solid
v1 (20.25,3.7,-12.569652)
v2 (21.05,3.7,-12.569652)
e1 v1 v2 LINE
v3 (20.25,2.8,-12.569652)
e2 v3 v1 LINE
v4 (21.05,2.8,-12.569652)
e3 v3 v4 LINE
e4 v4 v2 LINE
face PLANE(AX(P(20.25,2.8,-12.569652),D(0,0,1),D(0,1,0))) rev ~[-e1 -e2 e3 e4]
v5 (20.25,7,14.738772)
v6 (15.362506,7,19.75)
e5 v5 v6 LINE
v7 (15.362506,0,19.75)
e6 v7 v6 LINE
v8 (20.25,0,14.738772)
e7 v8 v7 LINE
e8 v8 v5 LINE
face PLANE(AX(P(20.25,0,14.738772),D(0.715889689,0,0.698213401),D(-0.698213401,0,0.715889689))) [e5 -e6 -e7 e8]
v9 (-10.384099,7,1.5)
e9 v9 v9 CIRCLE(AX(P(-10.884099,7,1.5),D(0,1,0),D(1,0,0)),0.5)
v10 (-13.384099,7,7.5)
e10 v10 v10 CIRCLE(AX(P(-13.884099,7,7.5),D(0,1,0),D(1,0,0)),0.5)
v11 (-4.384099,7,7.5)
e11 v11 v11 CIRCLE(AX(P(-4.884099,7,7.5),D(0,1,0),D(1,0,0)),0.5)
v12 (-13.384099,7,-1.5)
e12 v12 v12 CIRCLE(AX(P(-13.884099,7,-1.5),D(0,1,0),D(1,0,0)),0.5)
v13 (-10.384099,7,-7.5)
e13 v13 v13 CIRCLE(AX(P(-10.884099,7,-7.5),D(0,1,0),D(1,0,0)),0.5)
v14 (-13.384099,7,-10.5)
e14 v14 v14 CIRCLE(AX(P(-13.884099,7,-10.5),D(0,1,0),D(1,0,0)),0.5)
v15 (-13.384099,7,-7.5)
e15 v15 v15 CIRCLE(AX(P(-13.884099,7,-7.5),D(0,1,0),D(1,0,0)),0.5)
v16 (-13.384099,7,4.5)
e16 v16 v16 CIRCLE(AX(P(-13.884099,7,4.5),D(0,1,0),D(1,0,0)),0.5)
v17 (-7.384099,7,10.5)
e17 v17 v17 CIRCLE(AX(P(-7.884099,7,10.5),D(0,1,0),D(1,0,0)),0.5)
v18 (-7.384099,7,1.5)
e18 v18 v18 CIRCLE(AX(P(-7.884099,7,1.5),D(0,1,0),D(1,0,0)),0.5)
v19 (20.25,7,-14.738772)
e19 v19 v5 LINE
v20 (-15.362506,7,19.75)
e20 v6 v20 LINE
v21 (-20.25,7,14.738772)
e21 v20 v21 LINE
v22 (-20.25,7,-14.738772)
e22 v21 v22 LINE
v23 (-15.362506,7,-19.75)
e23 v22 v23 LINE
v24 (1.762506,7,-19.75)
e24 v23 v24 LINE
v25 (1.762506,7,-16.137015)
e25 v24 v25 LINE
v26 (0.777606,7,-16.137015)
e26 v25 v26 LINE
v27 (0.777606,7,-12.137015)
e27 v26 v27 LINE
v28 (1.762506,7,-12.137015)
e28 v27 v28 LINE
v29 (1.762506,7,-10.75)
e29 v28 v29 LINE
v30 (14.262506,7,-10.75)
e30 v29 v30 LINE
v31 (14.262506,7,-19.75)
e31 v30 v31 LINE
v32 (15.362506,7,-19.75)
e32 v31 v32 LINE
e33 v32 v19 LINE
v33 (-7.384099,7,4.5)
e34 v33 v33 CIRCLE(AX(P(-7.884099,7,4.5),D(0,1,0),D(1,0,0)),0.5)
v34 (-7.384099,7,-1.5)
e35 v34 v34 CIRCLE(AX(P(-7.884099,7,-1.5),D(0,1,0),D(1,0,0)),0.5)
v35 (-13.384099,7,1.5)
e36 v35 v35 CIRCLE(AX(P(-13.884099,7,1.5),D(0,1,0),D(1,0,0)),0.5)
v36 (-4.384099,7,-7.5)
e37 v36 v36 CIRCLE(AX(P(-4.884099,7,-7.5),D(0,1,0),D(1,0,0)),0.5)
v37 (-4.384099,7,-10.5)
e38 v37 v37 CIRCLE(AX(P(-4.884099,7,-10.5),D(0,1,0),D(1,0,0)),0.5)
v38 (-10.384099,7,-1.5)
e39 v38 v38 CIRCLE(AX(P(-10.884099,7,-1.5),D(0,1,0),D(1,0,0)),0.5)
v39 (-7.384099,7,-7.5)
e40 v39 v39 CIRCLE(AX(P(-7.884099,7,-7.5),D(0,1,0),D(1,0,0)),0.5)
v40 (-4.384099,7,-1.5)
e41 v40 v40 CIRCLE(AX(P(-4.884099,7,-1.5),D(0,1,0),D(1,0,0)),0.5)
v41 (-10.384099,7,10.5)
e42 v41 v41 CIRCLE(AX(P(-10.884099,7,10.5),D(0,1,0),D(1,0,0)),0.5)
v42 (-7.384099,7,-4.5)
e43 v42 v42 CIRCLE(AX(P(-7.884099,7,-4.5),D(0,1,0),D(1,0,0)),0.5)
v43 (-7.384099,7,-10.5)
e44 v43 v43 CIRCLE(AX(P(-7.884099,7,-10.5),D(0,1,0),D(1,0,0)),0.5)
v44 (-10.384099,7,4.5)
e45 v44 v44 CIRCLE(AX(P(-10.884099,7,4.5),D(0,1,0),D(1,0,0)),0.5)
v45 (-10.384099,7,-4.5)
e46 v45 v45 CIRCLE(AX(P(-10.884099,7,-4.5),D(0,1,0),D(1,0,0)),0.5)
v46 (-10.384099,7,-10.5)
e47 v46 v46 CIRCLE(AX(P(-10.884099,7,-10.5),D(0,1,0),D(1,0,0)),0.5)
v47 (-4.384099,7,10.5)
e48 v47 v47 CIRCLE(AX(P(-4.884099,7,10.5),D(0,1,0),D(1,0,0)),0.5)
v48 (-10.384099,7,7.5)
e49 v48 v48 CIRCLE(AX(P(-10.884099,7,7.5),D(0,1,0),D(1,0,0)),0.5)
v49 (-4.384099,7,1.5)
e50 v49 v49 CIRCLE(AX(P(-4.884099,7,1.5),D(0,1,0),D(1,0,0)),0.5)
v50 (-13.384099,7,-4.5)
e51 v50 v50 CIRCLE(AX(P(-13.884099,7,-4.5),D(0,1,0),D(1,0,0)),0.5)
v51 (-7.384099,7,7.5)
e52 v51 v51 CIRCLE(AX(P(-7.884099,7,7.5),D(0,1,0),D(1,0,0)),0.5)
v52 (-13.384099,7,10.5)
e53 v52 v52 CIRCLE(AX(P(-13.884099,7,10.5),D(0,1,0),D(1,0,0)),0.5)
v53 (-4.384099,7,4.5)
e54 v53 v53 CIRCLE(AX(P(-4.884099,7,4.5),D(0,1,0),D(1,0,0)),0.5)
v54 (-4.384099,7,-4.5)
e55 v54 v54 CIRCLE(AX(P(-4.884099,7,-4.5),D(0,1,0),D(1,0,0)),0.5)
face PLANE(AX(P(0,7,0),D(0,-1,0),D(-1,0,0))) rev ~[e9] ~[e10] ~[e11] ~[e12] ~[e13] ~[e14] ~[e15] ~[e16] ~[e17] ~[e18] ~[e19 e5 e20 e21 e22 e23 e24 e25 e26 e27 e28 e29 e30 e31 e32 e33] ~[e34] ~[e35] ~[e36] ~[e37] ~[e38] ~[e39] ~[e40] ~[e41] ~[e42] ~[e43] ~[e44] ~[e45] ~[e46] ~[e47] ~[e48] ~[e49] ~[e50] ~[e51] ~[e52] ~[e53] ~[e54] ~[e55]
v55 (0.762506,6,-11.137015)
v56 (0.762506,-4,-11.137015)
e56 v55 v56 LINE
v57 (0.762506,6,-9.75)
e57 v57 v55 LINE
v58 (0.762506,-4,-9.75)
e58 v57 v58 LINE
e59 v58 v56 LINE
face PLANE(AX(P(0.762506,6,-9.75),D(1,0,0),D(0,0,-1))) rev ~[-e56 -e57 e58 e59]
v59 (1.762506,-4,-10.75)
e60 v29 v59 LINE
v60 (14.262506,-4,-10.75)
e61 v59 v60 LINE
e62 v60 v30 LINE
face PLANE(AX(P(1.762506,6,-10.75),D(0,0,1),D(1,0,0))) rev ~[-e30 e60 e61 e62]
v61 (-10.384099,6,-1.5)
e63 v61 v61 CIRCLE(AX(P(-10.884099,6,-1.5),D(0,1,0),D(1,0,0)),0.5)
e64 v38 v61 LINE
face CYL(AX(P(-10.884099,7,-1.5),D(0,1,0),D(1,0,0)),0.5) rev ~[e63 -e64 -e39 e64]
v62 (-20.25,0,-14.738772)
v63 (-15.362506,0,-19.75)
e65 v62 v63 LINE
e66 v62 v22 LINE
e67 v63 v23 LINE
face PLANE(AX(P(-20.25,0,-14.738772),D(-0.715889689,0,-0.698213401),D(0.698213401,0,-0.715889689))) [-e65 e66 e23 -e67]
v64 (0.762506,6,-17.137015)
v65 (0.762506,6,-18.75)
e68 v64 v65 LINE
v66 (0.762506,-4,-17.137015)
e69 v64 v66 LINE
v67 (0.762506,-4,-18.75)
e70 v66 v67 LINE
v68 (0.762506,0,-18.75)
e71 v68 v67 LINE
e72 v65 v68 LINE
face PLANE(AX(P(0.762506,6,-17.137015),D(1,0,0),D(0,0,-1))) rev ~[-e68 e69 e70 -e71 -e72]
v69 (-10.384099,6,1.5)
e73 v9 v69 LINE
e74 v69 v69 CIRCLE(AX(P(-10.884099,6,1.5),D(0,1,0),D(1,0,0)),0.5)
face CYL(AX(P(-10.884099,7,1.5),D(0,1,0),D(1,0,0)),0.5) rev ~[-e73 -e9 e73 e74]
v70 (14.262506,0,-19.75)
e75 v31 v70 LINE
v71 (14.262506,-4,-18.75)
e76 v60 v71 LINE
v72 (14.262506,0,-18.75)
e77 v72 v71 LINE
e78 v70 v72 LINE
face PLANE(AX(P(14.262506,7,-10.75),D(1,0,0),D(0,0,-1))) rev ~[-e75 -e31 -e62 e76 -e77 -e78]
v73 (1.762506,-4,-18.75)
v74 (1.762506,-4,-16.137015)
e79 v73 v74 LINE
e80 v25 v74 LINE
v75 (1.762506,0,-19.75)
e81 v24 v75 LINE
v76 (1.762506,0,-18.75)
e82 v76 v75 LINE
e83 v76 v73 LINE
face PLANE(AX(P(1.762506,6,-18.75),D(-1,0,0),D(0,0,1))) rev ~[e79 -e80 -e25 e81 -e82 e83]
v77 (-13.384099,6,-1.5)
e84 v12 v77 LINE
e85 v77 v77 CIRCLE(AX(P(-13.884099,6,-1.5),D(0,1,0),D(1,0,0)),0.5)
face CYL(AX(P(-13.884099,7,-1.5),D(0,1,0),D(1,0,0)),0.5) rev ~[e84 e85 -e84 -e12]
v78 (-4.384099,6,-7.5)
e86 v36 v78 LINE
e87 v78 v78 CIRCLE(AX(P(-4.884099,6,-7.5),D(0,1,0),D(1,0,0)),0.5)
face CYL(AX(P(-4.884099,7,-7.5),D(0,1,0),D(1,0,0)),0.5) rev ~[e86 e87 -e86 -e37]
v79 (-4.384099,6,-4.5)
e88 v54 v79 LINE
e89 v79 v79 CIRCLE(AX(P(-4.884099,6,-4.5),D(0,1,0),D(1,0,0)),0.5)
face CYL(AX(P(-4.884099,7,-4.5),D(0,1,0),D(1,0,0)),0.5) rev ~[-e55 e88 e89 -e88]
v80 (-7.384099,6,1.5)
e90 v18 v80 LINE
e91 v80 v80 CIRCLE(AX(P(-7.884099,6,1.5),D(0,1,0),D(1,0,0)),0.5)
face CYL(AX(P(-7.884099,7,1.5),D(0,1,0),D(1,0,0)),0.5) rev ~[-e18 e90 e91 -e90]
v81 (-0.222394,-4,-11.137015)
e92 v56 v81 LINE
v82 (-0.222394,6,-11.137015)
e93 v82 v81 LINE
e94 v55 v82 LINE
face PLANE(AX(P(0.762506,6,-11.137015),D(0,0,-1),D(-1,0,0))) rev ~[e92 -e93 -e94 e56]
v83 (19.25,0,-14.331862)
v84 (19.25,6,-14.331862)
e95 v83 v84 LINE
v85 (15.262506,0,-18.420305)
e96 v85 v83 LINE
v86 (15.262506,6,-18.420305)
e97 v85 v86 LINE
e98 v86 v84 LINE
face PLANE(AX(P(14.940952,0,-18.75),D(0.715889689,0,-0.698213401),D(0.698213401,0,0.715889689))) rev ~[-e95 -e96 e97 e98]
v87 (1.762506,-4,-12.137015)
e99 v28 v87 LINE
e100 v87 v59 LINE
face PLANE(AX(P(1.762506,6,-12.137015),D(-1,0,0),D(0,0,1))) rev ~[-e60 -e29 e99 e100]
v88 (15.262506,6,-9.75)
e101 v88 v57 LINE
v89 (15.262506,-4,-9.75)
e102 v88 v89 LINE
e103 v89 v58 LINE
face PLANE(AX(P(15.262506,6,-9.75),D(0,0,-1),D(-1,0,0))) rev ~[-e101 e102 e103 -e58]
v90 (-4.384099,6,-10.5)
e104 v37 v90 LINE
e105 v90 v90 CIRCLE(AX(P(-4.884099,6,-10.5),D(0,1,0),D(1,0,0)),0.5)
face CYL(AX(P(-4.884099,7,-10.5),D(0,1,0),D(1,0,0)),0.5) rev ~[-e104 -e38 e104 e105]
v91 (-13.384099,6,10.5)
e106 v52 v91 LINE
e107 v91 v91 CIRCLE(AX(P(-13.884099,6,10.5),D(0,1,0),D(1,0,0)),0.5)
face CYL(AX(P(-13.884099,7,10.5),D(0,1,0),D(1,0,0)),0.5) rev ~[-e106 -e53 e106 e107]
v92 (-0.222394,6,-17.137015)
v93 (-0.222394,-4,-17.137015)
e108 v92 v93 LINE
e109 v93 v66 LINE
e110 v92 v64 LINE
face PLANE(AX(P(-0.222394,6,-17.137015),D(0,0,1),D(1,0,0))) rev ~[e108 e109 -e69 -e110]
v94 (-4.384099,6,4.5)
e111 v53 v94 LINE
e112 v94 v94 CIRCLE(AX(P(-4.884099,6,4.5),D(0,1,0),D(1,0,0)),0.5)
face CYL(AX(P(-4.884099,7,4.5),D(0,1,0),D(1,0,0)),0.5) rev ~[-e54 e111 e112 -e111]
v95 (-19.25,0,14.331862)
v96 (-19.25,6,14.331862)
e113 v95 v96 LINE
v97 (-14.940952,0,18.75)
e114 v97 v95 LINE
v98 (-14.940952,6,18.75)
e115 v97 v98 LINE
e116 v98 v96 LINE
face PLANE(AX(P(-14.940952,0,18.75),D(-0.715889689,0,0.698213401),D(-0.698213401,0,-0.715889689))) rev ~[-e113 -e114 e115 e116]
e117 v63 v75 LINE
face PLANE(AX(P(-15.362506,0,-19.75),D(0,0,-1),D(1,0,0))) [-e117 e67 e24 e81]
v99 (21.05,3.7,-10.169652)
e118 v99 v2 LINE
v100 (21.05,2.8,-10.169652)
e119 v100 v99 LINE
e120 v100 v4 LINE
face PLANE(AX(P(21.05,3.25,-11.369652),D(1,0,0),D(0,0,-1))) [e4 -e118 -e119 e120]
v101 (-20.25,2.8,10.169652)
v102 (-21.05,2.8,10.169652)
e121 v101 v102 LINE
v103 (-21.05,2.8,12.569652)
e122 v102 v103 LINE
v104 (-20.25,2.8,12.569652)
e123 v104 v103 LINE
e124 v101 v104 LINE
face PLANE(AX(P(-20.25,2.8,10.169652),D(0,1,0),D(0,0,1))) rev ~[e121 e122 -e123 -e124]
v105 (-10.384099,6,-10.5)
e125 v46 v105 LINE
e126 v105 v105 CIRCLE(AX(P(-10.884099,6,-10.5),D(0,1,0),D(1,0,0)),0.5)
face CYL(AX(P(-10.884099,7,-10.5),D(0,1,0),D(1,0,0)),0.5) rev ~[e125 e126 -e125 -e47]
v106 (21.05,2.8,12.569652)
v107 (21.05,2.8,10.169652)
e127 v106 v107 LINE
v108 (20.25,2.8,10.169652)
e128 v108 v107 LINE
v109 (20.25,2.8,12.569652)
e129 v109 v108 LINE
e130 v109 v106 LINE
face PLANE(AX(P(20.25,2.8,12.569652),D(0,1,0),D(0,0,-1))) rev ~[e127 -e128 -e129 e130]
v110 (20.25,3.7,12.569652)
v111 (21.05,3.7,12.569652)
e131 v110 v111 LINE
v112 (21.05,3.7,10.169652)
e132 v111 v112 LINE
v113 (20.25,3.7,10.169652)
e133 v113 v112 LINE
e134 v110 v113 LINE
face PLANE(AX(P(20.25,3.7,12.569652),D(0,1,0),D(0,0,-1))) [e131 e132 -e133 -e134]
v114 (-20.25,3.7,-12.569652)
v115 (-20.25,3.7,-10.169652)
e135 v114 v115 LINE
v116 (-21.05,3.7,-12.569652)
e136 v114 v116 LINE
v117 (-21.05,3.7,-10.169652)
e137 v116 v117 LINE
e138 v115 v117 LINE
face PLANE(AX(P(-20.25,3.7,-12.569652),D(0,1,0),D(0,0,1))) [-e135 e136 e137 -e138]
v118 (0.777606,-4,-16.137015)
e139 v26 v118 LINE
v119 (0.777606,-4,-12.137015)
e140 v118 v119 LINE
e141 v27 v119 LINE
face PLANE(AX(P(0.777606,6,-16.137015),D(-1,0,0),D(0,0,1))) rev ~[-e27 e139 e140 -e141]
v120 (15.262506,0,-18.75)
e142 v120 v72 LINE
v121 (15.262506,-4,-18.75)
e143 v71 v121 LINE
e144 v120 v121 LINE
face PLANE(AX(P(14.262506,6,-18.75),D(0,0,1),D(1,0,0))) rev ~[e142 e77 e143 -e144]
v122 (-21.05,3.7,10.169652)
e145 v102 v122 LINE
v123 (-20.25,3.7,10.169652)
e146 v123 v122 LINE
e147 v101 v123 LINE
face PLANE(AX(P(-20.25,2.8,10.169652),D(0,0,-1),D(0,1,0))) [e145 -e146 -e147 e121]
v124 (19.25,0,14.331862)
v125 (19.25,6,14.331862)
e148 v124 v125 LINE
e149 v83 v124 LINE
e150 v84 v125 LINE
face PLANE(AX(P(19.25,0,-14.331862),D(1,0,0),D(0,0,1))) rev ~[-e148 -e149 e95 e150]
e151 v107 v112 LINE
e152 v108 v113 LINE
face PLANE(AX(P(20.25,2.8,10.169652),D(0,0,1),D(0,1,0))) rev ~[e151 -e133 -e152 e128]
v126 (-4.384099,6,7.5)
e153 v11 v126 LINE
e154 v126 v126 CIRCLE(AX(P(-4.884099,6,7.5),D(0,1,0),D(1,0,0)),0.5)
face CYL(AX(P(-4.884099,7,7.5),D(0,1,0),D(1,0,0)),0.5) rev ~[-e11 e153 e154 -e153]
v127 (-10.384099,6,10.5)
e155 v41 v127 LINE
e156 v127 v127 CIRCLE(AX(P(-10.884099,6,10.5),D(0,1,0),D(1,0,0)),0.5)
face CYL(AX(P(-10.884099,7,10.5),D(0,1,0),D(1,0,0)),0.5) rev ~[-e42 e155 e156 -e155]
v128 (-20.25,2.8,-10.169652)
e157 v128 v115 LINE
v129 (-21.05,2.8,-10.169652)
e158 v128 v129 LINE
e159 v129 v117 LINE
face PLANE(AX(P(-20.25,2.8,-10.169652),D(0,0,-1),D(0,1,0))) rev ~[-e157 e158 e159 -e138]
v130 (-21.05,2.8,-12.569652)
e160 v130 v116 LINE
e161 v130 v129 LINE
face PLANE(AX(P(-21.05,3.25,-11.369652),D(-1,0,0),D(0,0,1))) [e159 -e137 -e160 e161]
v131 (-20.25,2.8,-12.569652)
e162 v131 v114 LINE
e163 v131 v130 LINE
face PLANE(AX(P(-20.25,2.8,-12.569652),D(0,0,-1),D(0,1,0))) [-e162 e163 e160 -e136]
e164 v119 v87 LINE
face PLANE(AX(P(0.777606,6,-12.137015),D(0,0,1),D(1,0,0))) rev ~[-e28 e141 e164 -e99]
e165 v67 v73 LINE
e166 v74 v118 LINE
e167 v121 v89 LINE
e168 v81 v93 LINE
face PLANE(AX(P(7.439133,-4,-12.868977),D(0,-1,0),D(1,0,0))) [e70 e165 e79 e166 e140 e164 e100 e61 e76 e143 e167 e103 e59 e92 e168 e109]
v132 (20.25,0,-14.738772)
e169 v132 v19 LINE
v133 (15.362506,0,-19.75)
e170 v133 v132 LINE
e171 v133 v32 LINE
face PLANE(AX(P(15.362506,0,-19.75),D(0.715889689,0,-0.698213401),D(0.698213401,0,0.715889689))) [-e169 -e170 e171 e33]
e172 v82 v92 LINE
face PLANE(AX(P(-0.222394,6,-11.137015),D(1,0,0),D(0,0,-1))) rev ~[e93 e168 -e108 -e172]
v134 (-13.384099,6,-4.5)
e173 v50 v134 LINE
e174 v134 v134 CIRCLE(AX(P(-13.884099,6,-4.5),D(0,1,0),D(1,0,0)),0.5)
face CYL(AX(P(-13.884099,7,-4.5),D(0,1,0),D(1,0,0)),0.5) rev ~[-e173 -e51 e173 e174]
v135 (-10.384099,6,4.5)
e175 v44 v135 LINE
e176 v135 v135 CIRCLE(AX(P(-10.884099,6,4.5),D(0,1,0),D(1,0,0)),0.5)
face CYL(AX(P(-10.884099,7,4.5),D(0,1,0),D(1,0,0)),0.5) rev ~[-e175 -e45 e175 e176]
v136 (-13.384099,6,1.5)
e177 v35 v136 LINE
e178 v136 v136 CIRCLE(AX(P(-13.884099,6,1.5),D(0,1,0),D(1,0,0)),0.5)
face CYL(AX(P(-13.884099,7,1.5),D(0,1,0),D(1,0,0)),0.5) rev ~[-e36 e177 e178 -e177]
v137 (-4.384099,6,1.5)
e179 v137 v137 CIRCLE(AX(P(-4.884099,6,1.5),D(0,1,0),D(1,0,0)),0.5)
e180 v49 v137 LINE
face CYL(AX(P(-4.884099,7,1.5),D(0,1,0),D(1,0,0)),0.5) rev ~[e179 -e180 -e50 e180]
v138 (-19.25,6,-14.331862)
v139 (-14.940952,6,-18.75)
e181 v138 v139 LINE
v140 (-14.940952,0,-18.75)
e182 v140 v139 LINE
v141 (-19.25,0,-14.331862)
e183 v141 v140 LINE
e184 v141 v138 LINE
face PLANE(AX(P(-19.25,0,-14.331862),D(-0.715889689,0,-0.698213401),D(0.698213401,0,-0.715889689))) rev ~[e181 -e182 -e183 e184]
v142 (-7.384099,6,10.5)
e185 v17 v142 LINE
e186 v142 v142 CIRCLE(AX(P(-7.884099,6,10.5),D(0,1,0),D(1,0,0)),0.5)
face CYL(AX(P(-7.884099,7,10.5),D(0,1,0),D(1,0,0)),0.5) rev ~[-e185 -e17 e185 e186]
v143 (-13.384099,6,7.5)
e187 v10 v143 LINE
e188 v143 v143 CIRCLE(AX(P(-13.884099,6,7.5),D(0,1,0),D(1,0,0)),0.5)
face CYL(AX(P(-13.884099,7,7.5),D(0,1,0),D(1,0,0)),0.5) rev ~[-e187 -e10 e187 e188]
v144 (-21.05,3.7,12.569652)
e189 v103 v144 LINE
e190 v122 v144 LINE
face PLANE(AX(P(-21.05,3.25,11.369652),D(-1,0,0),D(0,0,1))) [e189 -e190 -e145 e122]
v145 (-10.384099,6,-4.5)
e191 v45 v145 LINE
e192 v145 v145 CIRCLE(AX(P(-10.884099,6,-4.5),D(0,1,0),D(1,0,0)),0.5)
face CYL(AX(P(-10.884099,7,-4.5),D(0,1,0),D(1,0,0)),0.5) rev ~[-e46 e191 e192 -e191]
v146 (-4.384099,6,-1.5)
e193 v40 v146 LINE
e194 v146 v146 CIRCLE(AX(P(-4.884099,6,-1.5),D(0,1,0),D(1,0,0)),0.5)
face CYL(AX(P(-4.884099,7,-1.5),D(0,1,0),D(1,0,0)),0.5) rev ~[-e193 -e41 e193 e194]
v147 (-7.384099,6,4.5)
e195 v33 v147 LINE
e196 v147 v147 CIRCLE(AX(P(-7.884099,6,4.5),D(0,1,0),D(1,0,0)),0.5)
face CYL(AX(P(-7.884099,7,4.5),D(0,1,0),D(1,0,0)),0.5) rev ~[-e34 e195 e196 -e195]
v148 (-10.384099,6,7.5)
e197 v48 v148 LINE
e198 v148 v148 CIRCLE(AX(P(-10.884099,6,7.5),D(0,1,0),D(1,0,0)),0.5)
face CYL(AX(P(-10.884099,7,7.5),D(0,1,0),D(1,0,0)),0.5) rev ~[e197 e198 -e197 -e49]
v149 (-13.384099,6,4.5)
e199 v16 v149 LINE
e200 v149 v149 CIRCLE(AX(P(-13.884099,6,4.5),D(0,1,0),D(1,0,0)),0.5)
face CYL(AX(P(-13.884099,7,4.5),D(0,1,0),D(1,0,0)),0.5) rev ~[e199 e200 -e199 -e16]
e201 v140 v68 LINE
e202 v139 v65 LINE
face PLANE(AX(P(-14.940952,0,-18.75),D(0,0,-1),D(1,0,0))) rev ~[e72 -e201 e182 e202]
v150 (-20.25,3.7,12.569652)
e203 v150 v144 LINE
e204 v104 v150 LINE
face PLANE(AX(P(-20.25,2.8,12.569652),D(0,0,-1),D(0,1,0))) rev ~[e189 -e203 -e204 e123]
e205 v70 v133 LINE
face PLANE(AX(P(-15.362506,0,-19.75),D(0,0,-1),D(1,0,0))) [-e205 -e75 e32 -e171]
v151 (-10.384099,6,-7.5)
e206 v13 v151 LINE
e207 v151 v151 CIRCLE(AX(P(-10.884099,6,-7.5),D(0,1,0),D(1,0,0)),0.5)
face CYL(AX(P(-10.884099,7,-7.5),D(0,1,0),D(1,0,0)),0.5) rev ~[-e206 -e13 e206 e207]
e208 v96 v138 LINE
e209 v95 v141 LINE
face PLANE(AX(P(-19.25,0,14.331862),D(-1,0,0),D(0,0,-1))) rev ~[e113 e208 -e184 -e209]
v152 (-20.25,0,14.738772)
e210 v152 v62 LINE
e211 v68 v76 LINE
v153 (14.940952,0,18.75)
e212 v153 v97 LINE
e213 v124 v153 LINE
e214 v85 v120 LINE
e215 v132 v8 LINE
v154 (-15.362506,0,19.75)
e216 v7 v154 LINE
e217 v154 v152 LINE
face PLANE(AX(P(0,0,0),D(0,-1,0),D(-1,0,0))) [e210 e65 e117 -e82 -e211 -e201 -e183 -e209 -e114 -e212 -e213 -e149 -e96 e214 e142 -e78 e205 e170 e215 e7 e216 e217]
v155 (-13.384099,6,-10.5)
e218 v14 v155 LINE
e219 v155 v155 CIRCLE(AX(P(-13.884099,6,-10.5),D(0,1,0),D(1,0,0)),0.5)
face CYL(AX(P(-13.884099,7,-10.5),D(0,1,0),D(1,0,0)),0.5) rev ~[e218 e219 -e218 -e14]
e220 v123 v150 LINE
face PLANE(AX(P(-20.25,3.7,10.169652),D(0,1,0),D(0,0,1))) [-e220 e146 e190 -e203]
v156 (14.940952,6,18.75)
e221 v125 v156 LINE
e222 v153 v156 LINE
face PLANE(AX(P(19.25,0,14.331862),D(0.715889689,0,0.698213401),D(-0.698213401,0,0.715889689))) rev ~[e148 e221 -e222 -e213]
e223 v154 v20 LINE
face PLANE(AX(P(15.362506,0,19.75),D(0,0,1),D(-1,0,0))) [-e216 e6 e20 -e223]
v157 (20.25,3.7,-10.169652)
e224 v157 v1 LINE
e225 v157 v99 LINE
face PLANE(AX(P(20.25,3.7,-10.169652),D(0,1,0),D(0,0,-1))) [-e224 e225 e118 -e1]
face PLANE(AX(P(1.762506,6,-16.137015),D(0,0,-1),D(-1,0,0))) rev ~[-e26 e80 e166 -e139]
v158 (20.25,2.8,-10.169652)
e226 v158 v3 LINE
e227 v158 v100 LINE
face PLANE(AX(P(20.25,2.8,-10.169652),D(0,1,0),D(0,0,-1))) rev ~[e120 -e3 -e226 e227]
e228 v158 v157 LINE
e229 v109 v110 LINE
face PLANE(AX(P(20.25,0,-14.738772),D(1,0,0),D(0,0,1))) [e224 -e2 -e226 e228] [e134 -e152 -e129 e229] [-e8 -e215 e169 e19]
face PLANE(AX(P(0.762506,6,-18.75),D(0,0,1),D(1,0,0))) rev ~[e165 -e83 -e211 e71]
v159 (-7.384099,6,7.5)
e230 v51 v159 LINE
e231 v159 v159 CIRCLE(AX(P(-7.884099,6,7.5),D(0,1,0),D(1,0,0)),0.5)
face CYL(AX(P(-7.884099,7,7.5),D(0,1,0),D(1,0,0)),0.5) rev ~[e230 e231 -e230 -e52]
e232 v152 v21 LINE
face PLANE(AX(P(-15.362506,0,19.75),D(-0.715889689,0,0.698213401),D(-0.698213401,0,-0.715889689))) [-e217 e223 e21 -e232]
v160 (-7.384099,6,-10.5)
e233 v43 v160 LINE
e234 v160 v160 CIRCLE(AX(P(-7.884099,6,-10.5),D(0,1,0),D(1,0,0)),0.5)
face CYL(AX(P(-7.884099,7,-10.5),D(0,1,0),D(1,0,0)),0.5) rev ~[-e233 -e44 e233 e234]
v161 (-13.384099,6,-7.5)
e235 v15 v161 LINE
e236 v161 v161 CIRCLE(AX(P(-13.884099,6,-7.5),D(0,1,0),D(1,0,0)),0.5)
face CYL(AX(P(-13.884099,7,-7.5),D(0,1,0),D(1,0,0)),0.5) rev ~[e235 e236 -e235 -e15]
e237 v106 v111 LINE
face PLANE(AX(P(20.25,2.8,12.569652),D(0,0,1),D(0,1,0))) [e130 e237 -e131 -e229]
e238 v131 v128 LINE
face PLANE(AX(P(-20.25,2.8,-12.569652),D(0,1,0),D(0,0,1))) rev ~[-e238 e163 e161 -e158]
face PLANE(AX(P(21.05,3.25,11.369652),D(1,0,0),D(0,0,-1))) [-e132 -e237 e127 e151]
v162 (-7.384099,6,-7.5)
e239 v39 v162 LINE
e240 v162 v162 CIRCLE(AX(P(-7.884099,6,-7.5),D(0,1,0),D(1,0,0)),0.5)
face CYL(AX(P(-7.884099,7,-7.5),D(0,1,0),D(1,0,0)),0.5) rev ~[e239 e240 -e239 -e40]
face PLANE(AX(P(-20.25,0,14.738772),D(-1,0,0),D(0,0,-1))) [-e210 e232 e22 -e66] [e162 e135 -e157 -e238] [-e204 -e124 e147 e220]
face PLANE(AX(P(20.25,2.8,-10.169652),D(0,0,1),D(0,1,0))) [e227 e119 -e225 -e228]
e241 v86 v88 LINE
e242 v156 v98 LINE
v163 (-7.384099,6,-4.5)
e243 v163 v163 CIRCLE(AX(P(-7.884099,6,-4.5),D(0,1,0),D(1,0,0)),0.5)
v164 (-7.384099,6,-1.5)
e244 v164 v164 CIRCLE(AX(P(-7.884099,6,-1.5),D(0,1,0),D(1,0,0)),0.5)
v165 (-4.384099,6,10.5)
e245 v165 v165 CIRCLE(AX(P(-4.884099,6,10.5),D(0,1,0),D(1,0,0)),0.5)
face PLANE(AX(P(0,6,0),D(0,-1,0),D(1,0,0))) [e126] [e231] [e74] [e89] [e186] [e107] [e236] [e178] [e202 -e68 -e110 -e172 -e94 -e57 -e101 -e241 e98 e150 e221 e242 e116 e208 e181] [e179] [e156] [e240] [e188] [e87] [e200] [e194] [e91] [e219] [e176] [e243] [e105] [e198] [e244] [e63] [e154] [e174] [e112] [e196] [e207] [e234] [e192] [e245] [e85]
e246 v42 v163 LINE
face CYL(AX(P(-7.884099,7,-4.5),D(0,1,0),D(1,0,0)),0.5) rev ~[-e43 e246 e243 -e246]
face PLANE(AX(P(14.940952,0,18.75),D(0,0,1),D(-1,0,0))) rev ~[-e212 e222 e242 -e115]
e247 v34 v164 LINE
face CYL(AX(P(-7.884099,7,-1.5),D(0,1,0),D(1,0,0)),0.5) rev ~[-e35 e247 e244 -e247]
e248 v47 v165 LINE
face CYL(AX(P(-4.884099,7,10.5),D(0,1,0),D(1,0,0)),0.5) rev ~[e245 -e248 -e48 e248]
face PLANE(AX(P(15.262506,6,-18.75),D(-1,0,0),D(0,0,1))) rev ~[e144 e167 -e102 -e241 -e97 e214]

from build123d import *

# Parameters (mm, degrees)
BOSS_EXTRUDE1_DEPTH = 7
CUT_EXTRUDE1_DEPTH  = 6
CUT_EXTRUDE2_DEPTH  = 8
BOSS_EXTRUDE2_DEPTH = 10
SKETCH5_W           = 2.4
SKETCH5_H           = 0.9
BOSS_EXTRUDE3_DEPTH = 0.8
SKETCH6_W           = 2.4
SKETCH6_H           = 0.9
BOSS_EXTRUDE4_DEPTH = 0.8
SKETCH7_R           = 0.5
CUT_EXTRUDE3_DEPTH  = 1


with BuildPart() as part:
    # Sketch1 → Boss-Extrude1 (new body)
    with BuildSketch(Plane(origin=(0, 0, 0), x_dir=(1, 0, 0), z_dir=(0, 1, 0))):
        Polygon((-20.25, 14.738772175), (-15.362506196, 19.75), (15.362506196, 19.75), (20.25, 14.738772175), (20.25, -14.738772175), (15.362506196, -19.75), (-15.362506196, -19.75), (-20.25, -14.738772175), align=None)
    extrude(amount=BOSS_EXTRUDE1_DEPTH)

    # Sketch2 → Cut-Extrude1 (cut)
    with BuildSketch(Plane.XZ):
        Polygon((14.940951585, 18.75), (-14.940951585, 18.75), (-19.25, 14.331861751), (-19.25, -14.331861751), (-14.940951585, -18.75), (14.940951585, -18.75), (19.25, -14.331861751), (19.25, 14.331861751), align=None)
    extrude(amount=-CUT_EXTRUDE1_DEPTH, mode=Mode.SUBTRACT)

    # Sketch3 → Cut-Extrude2 (cut, through all)
    with BuildSketch(Plane(origin=(0, 7, 0), x_dir=(1, 0, 0), z_dir=(0, 1, 0))):
        Polygon((14.262506196, 19.75), (1.762506196, 19.75), (1.762506196, 16.137014737), (0.777606409, 16.137014737), (0.777606409, 12.137014737), (1.762506196, 12.137014737), (1.762506196, 10.75), (14.262506196, 10.75), align=None)
    extrude(amount=-CUT_EXTRUDE2_DEPTH, mode=Mode.SUBTRACT)

    # Sketch4 → Boss-Extrude2 (add)
    with BuildSketch(Plane.XZ.offset(-6)):
        Polygon((0.762506196, -18.75), (1.762506196, -18.75), (1.762506196, -16.137014737), (0.777606409, -16.137014737), (0.777606409, -12.137014737), (1.762506196, -12.137014737), (1.762506196, -10.75), (14.262506196, -10.75), (14.262506196, -18.75), (15.262506196, -18.75), (15.262506196, -9.75), (0.762506196, -9.75), (0.762506196, -11.137014737), (-0.222393591, -11.137014737), (-0.222393591, -17.137014737), (0.762506196, -17.137014737), align=None)
    extrude(amount=BOSS_EXTRUDE2_DEPTH)

    # Sketch5 → Boss-Extrude3 (add)
    with BuildSketch(Plane.ZY.offset(20.25)):
        with Locations((-11.369651621, 3.25)):
            Rectangle(SKETCH5_W, SKETCH5_H)
        with Locations((11.369651621, 3.25)):
            Rectangle(SKETCH5_W, SKETCH5_H)
    extrude(amount=BOSS_EXTRUDE3_DEPTH)

    # Sketch6 → Boss-Extrude4 (add)
    with BuildSketch(Plane(origin=(20.25, 0, 0), x_dir=(0, 0, -1), z_dir=(1, 0, 0))):
        with Locations((-11.369651621, 3.25)):
            Rectangle(SKETCH6_W, SKETCH6_H)
        with Locations((11.369651621, 3.25)):
            Rectangle(SKETCH6_W, SKETCH6_H)
    extrude(amount=BOSS_EXTRUDE4_DEPTH)

    # Sketch7 → Cut-Extrude3 (cut)
    with BuildSketch(Plane(origin=(0, 7, 0), x_dir=(1, 0, 0), z_dir=(0, 1, 0))):
        with Locations((-4.884098743, -10.5)):
            Circle(SKETCH7_R)
        with Locations((-7.884098743, -10.5)):
            Circle(SKETCH7_R)
        with Locations((-10.884098743, -10.5)):
            Circle(SKETCH7_R)
        with Locations((-13.884098743, -10.5)):
            Circle(SKETCH7_R)
        with Locations((-7.884098743, -7.5)):
            Circle(SKETCH7_R)
        with Locations((-10.884098743, -7.5)):
            Circle(SKETCH7_R)
        with Locations((-13.884098743, -7.5)):
            Circle(SKETCH7_R)
        with Locations((-7.884098743, -4.5)):
            Circle(SKETCH7_R)
        with Locations((-10.884098743, -4.5)):
            Circle(SKETCH7_R)
        with Locations((-13.884098743, -4.5)):
            Circle(SKETCH7_R)
        with Locations((-7.884098743, -1.5)):
            Circle(SKETCH7_R)
        with Locations((-10.884098743, -1.5)):
            Circle(SKETCH7_R)
        with Locations((-13.884098743, -1.5)):
            Circle(SKETCH7_R)
        with Locations((-7.884098743, 1.5)):
            Circle(SKETCH7_R)
        with Locations((-10.884098743, 1.5)):
            Circle(SKETCH7_R)
        with Locations((-13.884098743, 1.5)):
            Circle(SKETCH7_R)
        with Locations((-7.884098743, 4.5)):
            Circle(SKETCH7_R)
        with Locations((-10.884098743, 4.5)):
            Circle(SKETCH7_R)
        with Locations((-13.884098743, 4.5)):
            Circle(SKETCH7_R)
        with Locations((-7.884098743, 7.5)):
            Circle(SKETCH7_R)
        with Locations((-10.884098743, 7.5)):
            Circle(SKETCH7_R)
        with Locations((-13.884098743, 7.5)):
            Circle(SKETCH7_R)
        with Locations((-7.884098743, 10.5)):
            Circle(SKETCH7_R)
        with Locations((-10.884098743, 10.5)):
            Circle(SKETCH7_R)
        with Locations((-13.884098743, 10.5)):
            Circle(SKETCH7_R)
        with Locations((-4.884098743, -7.5)):
            Circle(SKETCH7_R)
        with Locations((-4.884098743, -4.5)):
            Circle(SKETCH7_R)
        with Locations((-4.884098743, -1.5)):
            Circle(SKETCH7_R)
        with Locations((-4.884098743, 1.5)):
            Circle(SKETCH7_R)
        with Locations((-4.884098743, 4.5)):
            Circle(SKETCH7_R)
        with Locations((-4.884098743, 7.5)):
            Circle(SKETCH7_R)
        with Locations((-4.884098743, 10.5)):
            Circle(SKETCH7_R)
    extrude(amount=-CUT_EXTRUDE3_DEPTH, mode=Mode.SUBTRACT)


solid = part.part
